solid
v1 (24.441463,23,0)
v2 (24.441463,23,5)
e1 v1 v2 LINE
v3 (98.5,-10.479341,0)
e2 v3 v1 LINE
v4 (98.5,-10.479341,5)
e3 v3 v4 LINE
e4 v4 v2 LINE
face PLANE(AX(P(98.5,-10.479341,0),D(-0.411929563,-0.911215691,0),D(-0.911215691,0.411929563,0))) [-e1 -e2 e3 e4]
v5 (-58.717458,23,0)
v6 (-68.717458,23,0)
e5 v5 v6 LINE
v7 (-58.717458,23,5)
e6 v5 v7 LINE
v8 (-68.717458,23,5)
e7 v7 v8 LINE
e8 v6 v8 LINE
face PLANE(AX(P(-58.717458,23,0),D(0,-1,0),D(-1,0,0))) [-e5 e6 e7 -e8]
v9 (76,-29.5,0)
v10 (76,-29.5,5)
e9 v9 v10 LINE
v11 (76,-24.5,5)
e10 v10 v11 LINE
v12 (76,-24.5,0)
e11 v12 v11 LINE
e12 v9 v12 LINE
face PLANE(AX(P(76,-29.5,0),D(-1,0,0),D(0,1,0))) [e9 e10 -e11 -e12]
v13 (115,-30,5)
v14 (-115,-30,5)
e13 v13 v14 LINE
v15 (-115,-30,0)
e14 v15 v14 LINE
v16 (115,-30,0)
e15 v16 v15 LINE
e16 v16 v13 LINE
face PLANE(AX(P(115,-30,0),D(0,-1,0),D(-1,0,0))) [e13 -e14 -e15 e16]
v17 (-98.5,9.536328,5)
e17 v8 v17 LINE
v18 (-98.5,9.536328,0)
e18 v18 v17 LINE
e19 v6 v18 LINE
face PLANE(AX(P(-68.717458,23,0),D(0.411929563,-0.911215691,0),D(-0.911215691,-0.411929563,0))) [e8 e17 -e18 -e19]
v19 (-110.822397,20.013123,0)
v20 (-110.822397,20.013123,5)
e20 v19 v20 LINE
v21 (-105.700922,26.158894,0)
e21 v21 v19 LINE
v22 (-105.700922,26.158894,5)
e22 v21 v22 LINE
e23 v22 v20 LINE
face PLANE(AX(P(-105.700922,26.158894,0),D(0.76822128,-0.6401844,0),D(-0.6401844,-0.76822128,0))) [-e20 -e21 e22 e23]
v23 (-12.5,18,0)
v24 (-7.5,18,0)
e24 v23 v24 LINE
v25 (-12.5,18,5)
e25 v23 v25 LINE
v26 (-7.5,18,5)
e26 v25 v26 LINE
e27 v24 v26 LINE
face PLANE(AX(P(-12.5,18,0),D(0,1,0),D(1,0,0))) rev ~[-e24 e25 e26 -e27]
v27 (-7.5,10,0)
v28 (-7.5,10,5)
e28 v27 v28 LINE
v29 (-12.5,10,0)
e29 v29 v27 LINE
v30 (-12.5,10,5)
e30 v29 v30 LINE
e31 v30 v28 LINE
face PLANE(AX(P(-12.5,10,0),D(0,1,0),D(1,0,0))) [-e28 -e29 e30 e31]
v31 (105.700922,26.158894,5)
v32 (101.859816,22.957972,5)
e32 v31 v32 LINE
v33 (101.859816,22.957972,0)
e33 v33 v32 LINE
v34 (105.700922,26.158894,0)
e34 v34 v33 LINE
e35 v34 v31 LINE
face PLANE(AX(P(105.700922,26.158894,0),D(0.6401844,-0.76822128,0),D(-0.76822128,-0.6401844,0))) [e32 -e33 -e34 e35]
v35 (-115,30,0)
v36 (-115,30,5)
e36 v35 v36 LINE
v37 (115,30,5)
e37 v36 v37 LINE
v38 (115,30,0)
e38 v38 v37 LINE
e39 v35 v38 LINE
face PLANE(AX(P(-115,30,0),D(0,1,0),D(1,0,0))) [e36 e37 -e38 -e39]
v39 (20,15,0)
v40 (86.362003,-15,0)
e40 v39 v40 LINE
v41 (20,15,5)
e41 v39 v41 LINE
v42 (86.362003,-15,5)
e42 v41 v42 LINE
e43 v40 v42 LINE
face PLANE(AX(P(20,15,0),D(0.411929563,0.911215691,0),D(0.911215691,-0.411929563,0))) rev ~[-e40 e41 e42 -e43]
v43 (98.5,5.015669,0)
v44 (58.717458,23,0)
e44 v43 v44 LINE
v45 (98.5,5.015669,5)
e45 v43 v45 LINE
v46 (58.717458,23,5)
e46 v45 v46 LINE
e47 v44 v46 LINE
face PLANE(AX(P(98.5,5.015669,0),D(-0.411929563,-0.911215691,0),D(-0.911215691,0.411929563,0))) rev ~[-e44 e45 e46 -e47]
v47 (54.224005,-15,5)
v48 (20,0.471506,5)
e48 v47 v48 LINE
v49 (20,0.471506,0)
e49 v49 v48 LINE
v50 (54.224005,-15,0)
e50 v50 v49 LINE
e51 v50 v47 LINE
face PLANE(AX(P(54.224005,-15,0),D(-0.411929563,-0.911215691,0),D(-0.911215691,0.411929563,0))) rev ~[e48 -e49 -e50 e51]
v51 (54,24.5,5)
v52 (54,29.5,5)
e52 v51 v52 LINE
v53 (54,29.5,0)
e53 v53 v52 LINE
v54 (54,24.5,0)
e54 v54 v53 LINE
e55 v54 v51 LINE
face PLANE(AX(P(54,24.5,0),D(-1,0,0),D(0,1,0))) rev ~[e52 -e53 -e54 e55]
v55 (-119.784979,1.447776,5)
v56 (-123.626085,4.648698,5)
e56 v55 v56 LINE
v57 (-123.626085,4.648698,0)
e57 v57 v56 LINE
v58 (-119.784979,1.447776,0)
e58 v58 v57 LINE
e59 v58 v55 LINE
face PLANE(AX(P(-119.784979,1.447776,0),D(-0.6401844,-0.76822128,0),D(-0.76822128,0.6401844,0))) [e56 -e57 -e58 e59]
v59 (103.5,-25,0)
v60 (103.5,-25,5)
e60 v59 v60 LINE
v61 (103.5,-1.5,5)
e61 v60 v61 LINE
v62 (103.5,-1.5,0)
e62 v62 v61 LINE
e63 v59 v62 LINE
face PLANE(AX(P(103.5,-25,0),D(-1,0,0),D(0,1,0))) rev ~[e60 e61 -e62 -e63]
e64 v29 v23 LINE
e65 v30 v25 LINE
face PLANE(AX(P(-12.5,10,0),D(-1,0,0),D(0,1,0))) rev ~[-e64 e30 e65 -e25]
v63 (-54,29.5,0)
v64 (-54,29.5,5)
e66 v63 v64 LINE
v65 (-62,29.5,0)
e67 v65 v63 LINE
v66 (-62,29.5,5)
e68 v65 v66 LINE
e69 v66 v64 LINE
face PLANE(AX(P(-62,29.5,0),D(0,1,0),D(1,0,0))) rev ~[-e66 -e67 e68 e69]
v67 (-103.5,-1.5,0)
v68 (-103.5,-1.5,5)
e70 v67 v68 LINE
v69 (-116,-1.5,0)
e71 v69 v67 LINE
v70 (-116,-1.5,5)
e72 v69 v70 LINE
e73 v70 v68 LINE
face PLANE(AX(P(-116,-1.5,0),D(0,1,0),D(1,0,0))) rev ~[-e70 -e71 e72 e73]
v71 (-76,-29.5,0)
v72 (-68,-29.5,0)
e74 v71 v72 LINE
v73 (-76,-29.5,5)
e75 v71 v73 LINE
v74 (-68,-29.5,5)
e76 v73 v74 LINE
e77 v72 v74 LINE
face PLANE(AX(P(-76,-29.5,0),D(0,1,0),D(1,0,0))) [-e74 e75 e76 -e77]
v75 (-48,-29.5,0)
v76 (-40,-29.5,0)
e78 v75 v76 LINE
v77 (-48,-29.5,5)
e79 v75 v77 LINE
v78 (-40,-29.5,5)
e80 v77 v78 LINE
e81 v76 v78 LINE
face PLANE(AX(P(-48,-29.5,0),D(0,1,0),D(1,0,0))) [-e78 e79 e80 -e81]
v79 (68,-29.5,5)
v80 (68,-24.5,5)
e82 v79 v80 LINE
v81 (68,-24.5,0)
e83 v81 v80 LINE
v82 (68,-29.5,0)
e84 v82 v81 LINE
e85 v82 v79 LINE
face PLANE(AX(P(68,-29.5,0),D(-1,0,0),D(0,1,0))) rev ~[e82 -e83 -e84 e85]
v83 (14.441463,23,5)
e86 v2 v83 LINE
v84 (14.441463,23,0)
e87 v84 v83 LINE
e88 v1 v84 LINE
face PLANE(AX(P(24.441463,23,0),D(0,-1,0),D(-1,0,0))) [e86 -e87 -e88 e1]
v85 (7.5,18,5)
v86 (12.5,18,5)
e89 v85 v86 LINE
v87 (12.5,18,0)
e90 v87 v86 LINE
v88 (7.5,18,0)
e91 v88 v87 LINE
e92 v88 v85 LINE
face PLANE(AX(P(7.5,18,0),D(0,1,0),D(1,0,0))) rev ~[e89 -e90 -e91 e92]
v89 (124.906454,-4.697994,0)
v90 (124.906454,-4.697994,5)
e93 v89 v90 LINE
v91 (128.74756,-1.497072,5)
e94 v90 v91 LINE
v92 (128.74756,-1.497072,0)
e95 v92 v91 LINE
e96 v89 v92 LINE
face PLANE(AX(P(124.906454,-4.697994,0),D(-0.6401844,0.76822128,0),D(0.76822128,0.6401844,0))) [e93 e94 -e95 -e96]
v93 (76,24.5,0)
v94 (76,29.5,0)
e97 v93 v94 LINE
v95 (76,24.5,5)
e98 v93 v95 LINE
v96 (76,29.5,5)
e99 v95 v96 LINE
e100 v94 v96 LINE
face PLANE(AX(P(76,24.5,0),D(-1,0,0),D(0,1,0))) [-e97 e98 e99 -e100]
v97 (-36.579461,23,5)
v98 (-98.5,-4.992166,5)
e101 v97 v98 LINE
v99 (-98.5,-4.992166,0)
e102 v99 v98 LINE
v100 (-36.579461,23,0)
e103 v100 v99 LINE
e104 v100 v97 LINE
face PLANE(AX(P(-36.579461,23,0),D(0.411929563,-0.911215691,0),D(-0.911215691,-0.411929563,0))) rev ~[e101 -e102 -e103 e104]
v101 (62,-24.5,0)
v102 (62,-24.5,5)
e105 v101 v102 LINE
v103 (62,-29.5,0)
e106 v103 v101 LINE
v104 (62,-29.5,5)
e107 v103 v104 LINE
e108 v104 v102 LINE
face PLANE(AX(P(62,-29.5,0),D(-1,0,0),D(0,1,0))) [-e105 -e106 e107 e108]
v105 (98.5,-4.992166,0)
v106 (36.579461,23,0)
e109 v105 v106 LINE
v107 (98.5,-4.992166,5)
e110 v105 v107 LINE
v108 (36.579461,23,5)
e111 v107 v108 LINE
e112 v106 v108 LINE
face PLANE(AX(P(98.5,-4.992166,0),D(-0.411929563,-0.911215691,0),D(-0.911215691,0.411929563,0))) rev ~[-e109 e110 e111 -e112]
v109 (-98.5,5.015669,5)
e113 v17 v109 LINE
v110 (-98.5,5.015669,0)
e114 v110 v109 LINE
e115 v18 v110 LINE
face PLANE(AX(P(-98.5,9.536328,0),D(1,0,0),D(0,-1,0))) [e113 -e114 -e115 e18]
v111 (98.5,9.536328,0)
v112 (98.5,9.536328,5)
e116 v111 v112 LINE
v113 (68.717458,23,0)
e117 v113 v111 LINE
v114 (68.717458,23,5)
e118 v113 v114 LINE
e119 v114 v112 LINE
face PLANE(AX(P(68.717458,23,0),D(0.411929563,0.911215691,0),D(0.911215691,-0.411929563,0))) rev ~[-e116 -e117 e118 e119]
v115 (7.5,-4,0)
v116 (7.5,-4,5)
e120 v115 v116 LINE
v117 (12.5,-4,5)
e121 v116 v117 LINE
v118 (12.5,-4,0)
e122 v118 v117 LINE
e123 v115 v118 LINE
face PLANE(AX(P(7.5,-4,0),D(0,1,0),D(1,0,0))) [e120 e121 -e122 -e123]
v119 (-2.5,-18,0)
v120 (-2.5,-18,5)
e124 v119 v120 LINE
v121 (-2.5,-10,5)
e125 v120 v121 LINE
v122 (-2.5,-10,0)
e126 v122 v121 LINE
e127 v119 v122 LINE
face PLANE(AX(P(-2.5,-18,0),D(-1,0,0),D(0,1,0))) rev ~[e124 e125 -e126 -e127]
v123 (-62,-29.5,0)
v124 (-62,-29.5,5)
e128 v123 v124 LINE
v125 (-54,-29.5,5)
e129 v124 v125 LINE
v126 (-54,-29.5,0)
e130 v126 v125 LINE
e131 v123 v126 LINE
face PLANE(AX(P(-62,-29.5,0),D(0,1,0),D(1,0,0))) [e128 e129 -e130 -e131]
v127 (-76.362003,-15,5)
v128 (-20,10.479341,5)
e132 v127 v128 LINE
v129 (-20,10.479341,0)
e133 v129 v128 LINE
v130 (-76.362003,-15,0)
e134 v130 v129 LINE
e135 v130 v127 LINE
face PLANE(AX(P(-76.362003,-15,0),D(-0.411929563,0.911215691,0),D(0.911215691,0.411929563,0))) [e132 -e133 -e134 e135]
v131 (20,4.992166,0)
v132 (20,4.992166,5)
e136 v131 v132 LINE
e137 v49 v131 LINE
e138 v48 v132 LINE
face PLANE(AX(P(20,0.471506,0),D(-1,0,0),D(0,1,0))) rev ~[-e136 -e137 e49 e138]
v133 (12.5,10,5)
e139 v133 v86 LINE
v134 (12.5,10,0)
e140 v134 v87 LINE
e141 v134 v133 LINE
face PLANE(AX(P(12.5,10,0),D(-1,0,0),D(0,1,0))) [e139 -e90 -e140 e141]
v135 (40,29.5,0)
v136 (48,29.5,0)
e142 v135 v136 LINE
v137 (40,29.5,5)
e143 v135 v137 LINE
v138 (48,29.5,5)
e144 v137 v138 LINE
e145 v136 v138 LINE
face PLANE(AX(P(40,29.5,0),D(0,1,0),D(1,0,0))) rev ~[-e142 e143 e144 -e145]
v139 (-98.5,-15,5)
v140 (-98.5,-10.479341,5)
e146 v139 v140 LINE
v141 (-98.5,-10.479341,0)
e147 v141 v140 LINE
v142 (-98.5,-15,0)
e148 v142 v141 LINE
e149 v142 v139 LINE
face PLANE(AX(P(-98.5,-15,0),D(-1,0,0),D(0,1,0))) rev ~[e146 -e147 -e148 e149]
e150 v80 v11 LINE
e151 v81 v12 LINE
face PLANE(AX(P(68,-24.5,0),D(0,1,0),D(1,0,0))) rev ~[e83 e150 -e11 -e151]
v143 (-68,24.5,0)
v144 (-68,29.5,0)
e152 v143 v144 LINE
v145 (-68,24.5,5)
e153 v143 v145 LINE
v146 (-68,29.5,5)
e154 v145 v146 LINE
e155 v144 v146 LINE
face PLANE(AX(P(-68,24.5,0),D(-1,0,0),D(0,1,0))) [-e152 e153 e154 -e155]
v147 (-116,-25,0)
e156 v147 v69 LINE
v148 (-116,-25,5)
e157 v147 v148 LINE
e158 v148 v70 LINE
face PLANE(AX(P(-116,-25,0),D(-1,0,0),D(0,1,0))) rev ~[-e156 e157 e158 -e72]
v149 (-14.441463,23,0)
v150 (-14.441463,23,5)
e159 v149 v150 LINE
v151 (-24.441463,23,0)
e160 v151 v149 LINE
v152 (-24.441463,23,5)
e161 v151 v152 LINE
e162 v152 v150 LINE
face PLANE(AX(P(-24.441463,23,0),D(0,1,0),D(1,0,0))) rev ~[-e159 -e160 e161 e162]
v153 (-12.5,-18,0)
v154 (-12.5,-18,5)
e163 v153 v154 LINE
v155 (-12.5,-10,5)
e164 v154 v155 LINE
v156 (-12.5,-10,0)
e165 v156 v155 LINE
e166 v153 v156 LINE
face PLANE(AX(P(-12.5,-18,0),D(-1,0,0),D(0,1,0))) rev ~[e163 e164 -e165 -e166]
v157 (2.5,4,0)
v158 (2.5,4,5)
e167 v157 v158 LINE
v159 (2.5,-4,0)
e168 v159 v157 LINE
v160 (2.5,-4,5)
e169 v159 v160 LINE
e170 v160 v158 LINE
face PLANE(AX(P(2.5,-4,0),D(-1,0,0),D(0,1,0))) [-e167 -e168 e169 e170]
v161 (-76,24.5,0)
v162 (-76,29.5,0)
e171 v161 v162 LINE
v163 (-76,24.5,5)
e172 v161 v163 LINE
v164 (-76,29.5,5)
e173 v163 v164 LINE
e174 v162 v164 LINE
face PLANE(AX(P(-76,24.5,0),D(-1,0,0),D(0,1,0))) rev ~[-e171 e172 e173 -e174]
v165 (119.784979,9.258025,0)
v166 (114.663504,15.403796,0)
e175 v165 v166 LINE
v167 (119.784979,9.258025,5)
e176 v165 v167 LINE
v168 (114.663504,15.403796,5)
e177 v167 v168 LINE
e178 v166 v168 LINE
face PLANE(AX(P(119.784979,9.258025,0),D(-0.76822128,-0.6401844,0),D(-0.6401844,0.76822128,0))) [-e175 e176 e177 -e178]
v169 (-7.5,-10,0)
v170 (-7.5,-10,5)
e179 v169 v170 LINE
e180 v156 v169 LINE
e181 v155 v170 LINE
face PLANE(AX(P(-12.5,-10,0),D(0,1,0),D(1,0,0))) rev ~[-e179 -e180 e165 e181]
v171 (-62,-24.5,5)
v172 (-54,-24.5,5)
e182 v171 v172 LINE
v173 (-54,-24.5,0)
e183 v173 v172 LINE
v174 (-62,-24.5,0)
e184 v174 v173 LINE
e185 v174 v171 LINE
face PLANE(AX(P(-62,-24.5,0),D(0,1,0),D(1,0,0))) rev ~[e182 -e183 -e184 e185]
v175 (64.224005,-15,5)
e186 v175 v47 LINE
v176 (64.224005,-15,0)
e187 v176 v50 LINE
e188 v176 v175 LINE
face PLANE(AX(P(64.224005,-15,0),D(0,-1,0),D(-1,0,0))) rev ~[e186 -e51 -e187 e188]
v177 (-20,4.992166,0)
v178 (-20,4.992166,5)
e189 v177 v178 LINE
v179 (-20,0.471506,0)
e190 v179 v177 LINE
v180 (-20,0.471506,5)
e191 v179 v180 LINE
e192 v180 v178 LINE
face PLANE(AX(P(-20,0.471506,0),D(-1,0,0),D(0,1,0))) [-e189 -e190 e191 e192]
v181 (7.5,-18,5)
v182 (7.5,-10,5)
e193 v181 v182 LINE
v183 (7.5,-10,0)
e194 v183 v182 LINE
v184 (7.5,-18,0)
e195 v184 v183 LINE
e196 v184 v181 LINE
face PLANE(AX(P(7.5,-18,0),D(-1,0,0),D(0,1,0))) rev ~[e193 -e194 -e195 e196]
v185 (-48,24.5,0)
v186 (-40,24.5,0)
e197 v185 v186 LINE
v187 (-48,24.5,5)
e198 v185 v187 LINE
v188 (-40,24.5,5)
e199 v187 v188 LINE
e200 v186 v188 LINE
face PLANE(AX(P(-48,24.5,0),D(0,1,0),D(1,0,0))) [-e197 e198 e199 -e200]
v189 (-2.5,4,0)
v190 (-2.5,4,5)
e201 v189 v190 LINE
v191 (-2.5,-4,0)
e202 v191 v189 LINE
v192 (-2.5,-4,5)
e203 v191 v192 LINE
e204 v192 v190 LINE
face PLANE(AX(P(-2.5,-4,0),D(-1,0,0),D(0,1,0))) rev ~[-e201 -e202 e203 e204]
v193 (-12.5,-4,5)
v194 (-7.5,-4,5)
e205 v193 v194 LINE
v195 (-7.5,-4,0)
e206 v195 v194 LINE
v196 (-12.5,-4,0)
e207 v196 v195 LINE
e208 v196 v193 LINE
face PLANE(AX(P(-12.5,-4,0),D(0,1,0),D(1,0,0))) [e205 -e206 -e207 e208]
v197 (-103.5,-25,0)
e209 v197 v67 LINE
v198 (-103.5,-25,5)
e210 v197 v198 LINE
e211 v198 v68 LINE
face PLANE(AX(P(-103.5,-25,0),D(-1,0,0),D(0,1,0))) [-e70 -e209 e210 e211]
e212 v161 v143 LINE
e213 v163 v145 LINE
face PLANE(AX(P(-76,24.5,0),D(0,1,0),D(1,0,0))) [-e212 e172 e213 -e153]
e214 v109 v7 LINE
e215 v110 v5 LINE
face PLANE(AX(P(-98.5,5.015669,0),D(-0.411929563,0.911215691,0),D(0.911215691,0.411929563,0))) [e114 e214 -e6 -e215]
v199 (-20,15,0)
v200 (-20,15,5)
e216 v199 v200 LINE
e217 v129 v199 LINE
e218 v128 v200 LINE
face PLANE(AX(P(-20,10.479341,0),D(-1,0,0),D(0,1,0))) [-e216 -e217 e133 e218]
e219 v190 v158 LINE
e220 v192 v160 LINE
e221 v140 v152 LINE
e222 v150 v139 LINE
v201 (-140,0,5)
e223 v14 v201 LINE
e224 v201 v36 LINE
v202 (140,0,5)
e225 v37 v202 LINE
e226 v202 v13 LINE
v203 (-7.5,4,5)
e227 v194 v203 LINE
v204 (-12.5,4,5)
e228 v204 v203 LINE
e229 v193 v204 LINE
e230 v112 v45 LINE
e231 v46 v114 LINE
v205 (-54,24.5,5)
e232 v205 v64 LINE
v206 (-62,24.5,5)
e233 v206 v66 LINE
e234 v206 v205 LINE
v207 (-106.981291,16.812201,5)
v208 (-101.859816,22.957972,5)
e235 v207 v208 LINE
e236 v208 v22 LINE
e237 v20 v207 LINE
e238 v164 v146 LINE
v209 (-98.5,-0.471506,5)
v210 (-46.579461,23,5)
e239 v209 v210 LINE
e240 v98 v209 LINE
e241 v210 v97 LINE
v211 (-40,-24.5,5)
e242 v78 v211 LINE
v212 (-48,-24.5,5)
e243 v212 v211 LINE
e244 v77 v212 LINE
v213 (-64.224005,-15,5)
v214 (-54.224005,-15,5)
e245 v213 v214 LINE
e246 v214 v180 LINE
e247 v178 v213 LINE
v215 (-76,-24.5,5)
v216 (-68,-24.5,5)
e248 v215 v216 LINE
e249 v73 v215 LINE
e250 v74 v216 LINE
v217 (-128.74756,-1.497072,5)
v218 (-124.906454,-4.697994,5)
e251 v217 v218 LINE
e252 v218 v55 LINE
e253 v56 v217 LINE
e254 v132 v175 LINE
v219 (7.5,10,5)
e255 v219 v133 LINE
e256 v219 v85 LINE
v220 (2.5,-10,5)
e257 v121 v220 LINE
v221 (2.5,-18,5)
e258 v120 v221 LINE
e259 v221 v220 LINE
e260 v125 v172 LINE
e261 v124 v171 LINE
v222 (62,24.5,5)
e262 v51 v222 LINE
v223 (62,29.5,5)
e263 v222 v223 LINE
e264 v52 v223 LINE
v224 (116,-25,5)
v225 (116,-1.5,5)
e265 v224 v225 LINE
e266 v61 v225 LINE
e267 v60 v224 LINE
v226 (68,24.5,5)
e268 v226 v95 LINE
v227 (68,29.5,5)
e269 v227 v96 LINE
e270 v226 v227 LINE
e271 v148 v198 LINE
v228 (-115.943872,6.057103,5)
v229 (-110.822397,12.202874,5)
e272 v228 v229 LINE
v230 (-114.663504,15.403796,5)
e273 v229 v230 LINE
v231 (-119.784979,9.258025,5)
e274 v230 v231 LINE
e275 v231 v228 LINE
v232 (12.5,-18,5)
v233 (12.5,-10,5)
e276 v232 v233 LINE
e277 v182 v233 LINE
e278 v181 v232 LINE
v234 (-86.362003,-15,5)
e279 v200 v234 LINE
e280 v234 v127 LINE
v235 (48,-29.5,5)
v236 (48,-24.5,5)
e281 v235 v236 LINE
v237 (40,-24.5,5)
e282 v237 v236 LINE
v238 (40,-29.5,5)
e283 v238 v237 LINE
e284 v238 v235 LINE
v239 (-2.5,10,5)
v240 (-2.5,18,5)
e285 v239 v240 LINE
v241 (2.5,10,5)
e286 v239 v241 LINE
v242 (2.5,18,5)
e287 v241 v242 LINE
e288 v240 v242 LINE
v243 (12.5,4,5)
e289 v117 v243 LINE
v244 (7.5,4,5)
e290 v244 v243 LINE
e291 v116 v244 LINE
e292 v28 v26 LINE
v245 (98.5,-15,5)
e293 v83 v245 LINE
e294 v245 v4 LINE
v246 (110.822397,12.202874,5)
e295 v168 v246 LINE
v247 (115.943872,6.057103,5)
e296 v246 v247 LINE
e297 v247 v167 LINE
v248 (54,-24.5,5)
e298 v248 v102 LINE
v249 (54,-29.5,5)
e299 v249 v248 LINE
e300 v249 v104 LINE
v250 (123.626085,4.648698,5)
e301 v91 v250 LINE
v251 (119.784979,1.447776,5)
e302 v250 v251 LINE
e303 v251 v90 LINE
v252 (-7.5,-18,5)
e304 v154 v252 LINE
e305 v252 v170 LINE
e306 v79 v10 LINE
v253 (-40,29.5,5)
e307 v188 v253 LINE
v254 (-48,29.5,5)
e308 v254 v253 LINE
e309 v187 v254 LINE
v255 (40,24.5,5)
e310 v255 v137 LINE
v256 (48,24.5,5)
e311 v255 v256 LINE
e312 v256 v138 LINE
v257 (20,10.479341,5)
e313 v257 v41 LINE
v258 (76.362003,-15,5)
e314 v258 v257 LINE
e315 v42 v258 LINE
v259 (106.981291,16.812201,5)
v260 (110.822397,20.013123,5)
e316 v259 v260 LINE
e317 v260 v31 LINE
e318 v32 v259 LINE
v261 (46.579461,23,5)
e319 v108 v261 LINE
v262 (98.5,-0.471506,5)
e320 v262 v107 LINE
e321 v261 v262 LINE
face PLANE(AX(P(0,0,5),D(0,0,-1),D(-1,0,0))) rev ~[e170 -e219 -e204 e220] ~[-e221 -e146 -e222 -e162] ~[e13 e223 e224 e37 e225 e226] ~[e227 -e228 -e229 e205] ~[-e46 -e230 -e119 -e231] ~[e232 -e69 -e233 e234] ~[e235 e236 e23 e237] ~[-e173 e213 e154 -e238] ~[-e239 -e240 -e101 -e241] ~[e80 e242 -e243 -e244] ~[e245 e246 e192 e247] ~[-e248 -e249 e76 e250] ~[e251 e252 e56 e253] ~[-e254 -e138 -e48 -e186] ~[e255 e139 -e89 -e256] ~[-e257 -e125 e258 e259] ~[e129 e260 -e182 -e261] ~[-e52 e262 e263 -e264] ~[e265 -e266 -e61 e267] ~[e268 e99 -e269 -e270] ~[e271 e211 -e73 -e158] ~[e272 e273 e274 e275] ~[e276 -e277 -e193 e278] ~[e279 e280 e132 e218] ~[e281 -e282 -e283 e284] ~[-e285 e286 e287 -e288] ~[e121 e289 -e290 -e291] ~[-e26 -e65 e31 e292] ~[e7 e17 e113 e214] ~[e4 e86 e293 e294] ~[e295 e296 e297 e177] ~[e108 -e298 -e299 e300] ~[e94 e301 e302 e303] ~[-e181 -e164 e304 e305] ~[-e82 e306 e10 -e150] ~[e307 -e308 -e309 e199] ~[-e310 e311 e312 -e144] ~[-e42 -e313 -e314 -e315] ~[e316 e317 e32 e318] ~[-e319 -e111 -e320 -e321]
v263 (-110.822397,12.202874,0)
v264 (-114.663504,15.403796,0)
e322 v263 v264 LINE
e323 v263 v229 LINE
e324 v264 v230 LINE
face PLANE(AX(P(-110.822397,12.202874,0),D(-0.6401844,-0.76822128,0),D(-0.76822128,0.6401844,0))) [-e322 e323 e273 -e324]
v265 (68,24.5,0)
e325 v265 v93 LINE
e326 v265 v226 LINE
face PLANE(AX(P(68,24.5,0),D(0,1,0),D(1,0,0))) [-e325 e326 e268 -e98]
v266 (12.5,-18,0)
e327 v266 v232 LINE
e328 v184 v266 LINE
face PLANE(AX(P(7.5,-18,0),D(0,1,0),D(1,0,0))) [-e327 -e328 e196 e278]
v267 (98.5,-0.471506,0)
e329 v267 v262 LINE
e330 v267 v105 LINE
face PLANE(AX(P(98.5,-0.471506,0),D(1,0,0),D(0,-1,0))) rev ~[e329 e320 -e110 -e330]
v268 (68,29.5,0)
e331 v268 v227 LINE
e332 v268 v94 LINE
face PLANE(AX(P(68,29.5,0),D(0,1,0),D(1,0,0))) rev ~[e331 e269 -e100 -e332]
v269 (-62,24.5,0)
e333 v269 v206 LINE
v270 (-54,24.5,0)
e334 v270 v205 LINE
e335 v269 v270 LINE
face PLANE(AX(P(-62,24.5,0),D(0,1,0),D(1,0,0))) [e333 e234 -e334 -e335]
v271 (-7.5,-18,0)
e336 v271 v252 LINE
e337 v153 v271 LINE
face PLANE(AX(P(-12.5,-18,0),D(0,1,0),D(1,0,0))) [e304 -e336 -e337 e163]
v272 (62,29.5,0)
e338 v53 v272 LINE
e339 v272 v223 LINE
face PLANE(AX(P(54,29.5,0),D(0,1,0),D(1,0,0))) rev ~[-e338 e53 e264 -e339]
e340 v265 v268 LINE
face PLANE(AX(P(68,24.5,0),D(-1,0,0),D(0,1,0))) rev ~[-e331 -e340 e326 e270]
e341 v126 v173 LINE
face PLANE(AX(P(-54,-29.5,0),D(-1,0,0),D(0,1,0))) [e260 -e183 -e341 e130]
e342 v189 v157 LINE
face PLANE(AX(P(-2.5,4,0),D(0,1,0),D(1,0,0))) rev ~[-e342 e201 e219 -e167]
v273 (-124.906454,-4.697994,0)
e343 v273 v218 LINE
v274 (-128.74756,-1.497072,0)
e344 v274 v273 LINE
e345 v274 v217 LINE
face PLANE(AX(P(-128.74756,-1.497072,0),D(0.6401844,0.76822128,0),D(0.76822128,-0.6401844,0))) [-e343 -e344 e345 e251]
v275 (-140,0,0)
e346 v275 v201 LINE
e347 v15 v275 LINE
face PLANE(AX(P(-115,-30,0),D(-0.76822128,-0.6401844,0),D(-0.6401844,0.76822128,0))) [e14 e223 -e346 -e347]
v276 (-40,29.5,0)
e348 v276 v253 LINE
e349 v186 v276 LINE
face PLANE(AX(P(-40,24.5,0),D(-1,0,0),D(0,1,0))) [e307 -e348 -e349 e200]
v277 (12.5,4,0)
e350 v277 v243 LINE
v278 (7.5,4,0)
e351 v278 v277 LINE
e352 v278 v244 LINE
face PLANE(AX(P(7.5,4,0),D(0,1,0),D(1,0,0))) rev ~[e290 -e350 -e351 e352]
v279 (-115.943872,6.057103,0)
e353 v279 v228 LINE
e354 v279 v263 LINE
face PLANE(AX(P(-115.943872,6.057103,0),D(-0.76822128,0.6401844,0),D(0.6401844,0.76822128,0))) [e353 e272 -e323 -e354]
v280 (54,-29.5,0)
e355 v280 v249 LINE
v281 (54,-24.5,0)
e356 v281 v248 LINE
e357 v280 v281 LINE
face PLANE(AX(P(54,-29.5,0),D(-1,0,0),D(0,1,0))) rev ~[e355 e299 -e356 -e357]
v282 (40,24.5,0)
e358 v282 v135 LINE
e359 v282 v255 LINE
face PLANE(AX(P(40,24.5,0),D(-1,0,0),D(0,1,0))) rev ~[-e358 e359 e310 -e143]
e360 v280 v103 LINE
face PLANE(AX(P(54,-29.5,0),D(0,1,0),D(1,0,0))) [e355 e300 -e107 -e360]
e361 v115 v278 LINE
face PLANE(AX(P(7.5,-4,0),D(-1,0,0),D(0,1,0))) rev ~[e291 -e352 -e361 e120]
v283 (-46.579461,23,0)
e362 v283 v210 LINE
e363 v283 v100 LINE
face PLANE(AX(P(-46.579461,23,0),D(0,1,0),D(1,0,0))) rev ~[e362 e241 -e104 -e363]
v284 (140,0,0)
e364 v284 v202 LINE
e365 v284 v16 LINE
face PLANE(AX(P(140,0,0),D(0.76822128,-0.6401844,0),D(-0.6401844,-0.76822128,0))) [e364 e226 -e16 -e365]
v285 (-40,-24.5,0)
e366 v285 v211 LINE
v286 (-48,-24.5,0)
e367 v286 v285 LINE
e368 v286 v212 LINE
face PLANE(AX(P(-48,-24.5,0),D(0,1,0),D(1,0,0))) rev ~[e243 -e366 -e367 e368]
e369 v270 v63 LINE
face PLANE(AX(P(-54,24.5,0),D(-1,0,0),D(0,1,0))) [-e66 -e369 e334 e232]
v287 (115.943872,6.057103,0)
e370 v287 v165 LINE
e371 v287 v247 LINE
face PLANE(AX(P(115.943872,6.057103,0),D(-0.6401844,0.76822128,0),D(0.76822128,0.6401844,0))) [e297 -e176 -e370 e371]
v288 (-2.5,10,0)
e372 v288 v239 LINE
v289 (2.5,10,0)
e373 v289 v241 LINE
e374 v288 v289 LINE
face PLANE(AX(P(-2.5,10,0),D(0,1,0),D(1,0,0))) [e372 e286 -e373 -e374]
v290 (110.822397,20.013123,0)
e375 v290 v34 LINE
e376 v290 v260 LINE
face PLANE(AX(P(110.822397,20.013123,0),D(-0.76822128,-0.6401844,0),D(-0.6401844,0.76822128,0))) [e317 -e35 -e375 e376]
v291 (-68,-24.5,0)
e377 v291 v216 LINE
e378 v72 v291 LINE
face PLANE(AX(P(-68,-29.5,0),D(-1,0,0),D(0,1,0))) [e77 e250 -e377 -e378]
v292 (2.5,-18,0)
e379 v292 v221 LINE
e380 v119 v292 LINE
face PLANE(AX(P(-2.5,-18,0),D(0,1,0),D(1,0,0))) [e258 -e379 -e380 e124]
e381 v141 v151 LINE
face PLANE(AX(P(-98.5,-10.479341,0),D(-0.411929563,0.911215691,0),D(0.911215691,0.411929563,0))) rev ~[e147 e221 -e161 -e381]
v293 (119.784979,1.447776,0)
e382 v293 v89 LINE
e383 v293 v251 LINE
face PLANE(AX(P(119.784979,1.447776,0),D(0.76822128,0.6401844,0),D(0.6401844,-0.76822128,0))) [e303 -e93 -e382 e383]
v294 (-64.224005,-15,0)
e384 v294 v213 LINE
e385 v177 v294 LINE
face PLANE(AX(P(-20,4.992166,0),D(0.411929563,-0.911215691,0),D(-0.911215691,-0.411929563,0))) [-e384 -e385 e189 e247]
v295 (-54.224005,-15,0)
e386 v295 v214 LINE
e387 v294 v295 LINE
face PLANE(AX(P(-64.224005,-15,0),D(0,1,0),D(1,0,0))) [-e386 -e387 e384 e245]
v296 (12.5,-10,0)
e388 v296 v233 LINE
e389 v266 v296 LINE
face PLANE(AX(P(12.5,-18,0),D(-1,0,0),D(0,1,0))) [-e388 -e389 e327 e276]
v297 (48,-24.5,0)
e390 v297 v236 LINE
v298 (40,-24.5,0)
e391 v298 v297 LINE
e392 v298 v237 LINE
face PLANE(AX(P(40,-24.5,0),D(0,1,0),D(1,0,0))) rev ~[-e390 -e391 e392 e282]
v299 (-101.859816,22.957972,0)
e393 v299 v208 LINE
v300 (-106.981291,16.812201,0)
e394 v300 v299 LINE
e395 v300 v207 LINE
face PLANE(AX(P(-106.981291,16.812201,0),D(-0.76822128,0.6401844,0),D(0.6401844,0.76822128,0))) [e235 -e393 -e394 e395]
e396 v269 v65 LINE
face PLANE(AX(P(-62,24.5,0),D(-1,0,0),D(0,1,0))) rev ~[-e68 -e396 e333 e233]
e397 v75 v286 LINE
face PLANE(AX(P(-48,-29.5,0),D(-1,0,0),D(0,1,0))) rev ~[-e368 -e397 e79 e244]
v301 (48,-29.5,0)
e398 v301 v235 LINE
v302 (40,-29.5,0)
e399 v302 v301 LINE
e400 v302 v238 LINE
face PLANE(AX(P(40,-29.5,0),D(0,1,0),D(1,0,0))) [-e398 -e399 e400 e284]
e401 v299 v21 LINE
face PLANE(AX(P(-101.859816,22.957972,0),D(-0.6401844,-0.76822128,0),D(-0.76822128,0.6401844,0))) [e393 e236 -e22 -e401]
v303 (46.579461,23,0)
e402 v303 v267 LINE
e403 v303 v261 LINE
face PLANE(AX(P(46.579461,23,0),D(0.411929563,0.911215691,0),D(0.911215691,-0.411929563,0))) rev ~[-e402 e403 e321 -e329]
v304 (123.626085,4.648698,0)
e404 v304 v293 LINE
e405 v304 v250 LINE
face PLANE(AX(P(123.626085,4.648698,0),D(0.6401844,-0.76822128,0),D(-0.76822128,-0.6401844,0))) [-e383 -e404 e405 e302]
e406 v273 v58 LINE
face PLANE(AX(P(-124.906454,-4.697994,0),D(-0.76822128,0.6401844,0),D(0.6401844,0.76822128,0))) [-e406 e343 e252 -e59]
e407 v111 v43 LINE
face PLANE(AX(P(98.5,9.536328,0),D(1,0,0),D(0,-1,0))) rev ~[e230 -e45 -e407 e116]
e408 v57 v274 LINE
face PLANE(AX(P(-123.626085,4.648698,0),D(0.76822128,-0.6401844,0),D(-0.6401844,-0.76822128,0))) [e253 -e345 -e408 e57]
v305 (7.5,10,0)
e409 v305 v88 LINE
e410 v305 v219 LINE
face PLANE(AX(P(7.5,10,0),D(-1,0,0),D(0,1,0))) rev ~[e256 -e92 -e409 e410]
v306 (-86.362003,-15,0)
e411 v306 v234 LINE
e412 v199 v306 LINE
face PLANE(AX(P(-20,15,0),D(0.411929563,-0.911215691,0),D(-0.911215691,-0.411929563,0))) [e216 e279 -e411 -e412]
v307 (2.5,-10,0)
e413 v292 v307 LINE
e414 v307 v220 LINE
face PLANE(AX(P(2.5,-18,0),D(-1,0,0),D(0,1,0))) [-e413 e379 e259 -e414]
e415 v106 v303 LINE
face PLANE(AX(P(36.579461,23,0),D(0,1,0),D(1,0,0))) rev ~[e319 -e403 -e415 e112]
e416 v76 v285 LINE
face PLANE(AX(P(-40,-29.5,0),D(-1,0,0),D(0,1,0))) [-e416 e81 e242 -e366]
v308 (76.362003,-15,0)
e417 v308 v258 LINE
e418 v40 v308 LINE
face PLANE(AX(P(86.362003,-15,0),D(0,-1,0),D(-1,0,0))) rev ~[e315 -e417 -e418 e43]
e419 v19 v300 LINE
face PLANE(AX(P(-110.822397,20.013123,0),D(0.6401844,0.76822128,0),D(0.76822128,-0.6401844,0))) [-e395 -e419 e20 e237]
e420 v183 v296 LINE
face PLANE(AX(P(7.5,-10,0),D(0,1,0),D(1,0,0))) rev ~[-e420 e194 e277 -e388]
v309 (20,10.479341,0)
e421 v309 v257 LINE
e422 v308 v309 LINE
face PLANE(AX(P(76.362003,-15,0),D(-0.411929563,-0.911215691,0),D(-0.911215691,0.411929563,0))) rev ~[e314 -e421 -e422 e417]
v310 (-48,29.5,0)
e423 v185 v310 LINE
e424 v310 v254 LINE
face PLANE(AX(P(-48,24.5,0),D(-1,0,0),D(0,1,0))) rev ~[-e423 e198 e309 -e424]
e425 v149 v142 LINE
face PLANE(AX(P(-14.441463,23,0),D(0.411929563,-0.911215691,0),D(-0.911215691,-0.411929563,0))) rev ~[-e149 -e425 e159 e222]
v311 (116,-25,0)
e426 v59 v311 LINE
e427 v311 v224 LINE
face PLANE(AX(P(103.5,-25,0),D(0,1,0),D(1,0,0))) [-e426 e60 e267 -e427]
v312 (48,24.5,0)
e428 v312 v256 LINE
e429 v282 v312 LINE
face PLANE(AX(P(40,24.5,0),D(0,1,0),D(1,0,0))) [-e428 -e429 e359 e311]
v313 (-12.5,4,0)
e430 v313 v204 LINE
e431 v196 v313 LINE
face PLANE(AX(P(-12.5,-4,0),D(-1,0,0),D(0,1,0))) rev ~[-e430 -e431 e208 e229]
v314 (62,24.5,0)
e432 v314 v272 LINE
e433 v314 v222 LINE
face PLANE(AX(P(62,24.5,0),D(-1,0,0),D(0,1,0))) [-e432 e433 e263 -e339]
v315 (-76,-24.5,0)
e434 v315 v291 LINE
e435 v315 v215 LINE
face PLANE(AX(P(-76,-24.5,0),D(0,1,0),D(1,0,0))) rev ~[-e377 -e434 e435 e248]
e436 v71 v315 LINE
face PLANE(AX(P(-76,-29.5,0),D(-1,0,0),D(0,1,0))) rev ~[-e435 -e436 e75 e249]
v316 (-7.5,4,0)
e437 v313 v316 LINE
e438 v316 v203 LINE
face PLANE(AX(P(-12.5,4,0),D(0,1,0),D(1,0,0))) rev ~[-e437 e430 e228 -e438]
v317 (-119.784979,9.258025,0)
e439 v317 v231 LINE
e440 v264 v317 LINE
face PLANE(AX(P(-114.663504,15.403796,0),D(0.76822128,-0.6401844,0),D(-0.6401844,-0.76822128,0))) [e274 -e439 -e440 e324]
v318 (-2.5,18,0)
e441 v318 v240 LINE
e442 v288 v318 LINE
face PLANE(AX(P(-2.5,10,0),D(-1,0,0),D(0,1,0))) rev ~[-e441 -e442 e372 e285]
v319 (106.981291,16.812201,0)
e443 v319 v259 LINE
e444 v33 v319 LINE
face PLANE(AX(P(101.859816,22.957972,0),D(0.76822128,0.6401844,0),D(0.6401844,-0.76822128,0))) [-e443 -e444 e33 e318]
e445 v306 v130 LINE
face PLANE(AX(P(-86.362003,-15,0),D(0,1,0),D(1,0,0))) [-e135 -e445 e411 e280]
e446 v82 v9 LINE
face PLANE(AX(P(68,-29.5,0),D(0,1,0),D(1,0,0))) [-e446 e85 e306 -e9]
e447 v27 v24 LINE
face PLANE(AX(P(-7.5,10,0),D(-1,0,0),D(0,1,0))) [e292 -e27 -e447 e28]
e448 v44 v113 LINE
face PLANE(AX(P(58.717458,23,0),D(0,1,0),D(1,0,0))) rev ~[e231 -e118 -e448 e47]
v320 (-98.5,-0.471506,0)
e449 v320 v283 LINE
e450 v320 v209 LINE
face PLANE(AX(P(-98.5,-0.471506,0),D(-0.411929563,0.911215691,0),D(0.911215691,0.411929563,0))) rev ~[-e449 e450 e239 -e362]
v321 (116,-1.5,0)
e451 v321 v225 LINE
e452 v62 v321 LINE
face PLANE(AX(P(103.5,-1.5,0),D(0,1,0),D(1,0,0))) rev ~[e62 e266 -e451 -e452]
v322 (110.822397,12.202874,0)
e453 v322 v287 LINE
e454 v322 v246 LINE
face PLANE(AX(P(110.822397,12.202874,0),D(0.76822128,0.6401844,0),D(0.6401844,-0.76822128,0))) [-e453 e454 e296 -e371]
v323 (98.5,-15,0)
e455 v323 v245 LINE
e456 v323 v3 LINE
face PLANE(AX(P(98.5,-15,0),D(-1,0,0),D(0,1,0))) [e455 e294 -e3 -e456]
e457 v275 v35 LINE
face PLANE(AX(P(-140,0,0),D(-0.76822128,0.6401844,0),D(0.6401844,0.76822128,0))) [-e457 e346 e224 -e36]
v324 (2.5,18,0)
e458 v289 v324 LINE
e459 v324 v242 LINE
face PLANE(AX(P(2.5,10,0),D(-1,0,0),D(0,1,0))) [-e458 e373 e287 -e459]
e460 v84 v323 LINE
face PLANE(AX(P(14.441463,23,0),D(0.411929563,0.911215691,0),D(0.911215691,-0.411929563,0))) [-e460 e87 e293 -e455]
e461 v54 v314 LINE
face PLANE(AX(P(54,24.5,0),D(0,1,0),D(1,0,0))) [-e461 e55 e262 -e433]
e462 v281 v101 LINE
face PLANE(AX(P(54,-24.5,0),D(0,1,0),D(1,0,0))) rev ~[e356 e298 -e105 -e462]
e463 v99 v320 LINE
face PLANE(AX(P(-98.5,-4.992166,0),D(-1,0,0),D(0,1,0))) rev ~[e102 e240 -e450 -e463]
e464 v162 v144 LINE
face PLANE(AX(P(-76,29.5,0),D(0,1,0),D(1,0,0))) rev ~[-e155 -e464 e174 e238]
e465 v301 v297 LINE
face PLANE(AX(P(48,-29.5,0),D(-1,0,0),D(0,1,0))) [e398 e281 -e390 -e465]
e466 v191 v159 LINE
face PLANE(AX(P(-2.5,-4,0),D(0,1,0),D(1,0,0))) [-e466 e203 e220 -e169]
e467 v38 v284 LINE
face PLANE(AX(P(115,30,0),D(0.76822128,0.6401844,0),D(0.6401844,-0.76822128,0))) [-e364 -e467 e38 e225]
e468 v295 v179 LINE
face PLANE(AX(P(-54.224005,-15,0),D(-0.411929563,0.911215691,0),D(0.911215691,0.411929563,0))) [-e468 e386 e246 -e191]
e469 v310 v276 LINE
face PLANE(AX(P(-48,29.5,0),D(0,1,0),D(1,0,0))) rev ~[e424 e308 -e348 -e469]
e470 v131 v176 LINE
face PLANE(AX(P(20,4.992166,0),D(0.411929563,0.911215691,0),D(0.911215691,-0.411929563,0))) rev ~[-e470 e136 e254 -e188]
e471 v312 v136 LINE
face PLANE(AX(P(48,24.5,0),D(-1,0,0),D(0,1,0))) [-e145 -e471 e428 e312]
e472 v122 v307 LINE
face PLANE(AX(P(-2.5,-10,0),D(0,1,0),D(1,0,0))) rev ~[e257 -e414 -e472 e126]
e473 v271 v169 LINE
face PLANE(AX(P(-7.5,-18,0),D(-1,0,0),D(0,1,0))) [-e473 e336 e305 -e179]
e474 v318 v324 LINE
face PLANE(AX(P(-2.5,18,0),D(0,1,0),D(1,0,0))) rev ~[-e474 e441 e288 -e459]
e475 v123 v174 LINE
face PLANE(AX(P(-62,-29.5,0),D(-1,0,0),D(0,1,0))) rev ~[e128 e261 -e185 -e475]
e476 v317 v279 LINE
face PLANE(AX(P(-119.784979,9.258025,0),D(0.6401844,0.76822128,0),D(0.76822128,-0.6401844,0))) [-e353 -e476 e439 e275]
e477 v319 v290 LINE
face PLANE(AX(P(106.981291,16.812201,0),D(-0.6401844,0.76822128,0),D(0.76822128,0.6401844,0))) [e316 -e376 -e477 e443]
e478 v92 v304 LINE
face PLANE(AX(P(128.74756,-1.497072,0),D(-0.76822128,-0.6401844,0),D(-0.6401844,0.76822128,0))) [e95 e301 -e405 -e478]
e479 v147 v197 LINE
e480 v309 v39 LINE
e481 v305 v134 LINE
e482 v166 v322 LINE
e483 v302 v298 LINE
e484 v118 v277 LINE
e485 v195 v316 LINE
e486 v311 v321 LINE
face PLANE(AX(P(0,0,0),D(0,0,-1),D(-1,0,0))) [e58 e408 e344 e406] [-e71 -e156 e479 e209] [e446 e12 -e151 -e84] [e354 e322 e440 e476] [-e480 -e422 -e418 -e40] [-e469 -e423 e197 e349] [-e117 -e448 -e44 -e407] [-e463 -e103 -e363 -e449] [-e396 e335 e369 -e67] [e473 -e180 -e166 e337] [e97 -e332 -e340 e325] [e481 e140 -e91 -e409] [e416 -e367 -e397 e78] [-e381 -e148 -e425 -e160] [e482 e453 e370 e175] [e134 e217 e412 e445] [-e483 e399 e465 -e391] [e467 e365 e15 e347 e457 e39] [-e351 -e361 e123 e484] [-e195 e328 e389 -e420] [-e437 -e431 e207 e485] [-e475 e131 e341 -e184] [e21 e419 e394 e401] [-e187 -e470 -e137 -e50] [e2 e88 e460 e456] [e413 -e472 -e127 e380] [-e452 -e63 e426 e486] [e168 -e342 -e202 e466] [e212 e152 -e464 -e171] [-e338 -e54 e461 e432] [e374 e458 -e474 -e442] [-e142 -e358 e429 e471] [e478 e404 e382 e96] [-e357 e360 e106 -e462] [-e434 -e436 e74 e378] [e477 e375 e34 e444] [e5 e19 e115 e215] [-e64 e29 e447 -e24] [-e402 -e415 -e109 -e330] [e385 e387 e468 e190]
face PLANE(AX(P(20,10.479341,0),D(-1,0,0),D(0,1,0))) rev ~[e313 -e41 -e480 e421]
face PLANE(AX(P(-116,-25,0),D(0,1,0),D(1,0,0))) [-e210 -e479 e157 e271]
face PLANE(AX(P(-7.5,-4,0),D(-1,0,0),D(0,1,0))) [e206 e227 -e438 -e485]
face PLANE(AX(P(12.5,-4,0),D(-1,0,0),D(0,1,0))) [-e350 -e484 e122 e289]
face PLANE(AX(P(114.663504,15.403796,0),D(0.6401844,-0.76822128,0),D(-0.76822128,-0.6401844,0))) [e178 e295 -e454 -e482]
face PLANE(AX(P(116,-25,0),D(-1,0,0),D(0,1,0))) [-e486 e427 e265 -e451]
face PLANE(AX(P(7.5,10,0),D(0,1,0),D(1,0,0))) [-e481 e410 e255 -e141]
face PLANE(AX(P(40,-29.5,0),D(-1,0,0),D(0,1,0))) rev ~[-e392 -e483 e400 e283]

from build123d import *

# Parameters (mm, degrees)
SKETCH_1_W      = 12.5
SKETCH_1_H      = 23.5
SKETCH_1_W_2    = 5
SKETCH_1_H_2    = 8
SKETCH_1_W_3    = 8
SKETCH_1_H_3    = 5
EXTRUDE_1_DEPTH = 5


with BuildPart() as part:
    # 草图1 → 凸台-拉伸1 (new body)
    with BuildSketch(Plane.XY):
        Polygon((140, 0), (115, -30), (-115, -30), (-140, 0), (-115, 30), (115, 30), align=None)
        Polygon((-105.700921998, 26.158893602), (-110.822397196, 20.013123365), (-106.981290798, 16.812201367), (-101.8598156, 22.957971604), align=None, mode=Mode.SUBTRACT)
        Polygon((-114.663503594, 15.403795688), (-119.784978791, 9.258025451), (-115.943872393, 6.057103453), (-110.822397196, 12.202873689), align=None, mode=Mode.SUBTRACT)
        Polygon((-123.626085189, 4.648697773), (-128.747560386, -1.497072463), (-124.906453988, -4.697994462), (-119.784978791, 1.447775775), align=None, mode=Mode.SUBTRACT)
        Polygon((-98.5, -0.47150647), (-46.579460947, 23), (-36.579460947, 23), (-98.5, -4.992165712), (-98.5, -3), align=None, mode=Mode.SUBTRACT)
        with Locations((-109.75, -13.25)):
            Rectangle(SKETCH_1_W, SKETCH_1_H, mode=Mode.SUBTRACT)
        Rectangle(SKETCH_1_W_2, SKETCH_1_H_2, mode=Mode.SUBTRACT)
        with Locations((0, 14)):
            Rectangle(SKETCH_1_W_2, SKETCH_1_H_2, mode=Mode.SUBTRACT)
        with Locations((0, -14)):
            Rectangle(SKETCH_1_W_2, SKETCH_1_H_2, mode=Mode.SUBTRACT)
        Polygon((-98.5, -10.479340758), (-24.441463471, 23), (-14.441463471, 23), (-98.5, -15), align=None, mode=Mode.SUBTRACT)
        Polygon((-20, 15), (-86.362002523, -15), (-76.362002523, -15), (-20, 10.479340758), align=None, mode=Mode.SUBTRACT)
        Polygon((-20, 4.992165712), (-64.224005046, -15), (-54.224005046, -15), (-20, 0.47150647), align=None, mode=Mode.SUBTRACT)
        Polygon((-58.717458424, 23), (-68.717458424, 23), (-98.5, 9.536327819), (-98.5, 5.015668577), align=None, mode=Mode.SUBTRACT)
        Polygon((98.5, 5.015668577), (58.717458424, 23), (68.717458424, 23), (98.5, 9.536327819), align=None, mode=Mode.SUBTRACT)
        Polygon((20, 0.47150647), (20, 4.992165712), (64.224005046, -15), (54.224005046, -15), align=None, mode=Mode.SUBTRACT)
        Polygon((98.5, -15), (98.5, -10.479340758), (24.441463471, 23), (14.441463471, 23), align=None, mode=Mode.SUBTRACT)
        Polygon((20, 10.479340758), (20, 15), (86.362002523, -15), (76.362002523, -15), align=None, mode=Mode.SUBTRACT)
        Polygon((98.5, -0.47150647), (98.5, -3), (98.5, -4.992165712), (36.579460947, 23), (46.579460947, 23), align=None, mode=Mode.SUBTRACT)
        with Locations((109.75, -13.25)):
            Rectangle(SKETCH_1_W, SKETCH_1_H, mode=Mode.SUBTRACT)
        Polygon((119.784978791, 1.447775775), (124.906453988, -4.697994462), (128.747560386, -1.497072463), (123.626085189, 4.648697773), align=None, mode=Mode.SUBTRACT)
        Polygon((110.822397196, 12.202873689), (115.943872393, 6.057103453), (119.784978791, 9.258025451), (114.663503594, 15.403795688), align=None, mode=Mode.SUBTRACT)
        Polygon((101.8598156, 22.957971604), (106.981290798, 16.812201367), (110.822397196, 20.013123365), (105.700921998, 26.158893602), align=None, mode=Mode.SUBTRACT)
        with Locations((-10, 0)):
            Rectangle(SKETCH_1_W_2, SKETCH_1_H_2, mode=Mode.SUBTRACT)
        with Locations((-10, 14)):
            Rectangle(SKETCH_1_W_2, SKETCH_1_H_2, mode=Mode.SUBTRACT)
        with Locations((-10, -14)):
            Rectangle(SKETCH_1_W_2, SKETCH_1_H_2, mode=Mode.SUBTRACT)
        with Locations((10, -14)):
            Rectangle(SKETCH_1_W_2, SKETCH_1_H_2, mode=Mode.SUBTRACT)
        with Locations((10, 14)):
            Rectangle(SKETCH_1_W_2, SKETCH_1_H_2, mode=Mode.SUBTRACT)
        with Locations((10, 0)):
            Rectangle(SKETCH_1_W_2, SKETCH_1_H_2, mode=Mode.SUBTRACT)
        with Locations((-58, 27)):
            Rectangle(SKETCH_1_W_3, SKETCH_1_H_3, mode=Mode.SUBTRACT)
        with Locations((-72, 27)):
            Rectangle(SKETCH_1_W_3, SKETCH_1_H_3, mode=Mode.SUBTRACT)
        with Locations((-44, 27)):
            Rectangle(SKETCH_1_W_3, SKETCH_1_H_3, mode=Mode.SUBTRACT)
        with Locations((58, -27)):
            Rectangle(SKETCH_1_W_3, SKETCH_1_H_3, mode=Mode.SUBTRACT)
        with Locations((72, -27)):
            Rectangle(SKETCH_1_W_3, SKETCH_1_H_3, mode=Mode.SUBTRACT)
        with Locations((44, 27)):
            Rectangle(SKETCH_1_W_3, SKETCH_1_H_3, mode=Mode.SUBTRACT)
        with Locations((58, 27)):
            Rectangle(SKETCH_1_W_3, SKETCH_1_H_3, mode=Mode.SUBTRACT)
        with Locations((72, 27)):
            Rectangle(SKETCH_1_W_3, SKETCH_1_H_3, mode=Mode.SUBTRACT)
        with Locations((44, -27)):
            Rectangle(SKETCH_1_W_3, SKETCH_1_H_3, mode=Mode.SUBTRACT)
        with Locations((-44, -27)):
            Rectangle(SKETCH_1_W_3, SKETCH_1_H_3, mode=Mode.SUBTRACT)
        with Locations((-58, -27)):
            Rectangle(SKETCH_1_W_3, SKETCH_1_H_3, mode=Mode.SUBTRACT)
        with Locations((-72, -27)):
            Rectangle(SKETCH_1_W_3, SKETCH_1_H_3, mode=Mode.SUBTRACT)
    extrude(amount=EXTRUDE_1_DEPTH)


solid = part.part
